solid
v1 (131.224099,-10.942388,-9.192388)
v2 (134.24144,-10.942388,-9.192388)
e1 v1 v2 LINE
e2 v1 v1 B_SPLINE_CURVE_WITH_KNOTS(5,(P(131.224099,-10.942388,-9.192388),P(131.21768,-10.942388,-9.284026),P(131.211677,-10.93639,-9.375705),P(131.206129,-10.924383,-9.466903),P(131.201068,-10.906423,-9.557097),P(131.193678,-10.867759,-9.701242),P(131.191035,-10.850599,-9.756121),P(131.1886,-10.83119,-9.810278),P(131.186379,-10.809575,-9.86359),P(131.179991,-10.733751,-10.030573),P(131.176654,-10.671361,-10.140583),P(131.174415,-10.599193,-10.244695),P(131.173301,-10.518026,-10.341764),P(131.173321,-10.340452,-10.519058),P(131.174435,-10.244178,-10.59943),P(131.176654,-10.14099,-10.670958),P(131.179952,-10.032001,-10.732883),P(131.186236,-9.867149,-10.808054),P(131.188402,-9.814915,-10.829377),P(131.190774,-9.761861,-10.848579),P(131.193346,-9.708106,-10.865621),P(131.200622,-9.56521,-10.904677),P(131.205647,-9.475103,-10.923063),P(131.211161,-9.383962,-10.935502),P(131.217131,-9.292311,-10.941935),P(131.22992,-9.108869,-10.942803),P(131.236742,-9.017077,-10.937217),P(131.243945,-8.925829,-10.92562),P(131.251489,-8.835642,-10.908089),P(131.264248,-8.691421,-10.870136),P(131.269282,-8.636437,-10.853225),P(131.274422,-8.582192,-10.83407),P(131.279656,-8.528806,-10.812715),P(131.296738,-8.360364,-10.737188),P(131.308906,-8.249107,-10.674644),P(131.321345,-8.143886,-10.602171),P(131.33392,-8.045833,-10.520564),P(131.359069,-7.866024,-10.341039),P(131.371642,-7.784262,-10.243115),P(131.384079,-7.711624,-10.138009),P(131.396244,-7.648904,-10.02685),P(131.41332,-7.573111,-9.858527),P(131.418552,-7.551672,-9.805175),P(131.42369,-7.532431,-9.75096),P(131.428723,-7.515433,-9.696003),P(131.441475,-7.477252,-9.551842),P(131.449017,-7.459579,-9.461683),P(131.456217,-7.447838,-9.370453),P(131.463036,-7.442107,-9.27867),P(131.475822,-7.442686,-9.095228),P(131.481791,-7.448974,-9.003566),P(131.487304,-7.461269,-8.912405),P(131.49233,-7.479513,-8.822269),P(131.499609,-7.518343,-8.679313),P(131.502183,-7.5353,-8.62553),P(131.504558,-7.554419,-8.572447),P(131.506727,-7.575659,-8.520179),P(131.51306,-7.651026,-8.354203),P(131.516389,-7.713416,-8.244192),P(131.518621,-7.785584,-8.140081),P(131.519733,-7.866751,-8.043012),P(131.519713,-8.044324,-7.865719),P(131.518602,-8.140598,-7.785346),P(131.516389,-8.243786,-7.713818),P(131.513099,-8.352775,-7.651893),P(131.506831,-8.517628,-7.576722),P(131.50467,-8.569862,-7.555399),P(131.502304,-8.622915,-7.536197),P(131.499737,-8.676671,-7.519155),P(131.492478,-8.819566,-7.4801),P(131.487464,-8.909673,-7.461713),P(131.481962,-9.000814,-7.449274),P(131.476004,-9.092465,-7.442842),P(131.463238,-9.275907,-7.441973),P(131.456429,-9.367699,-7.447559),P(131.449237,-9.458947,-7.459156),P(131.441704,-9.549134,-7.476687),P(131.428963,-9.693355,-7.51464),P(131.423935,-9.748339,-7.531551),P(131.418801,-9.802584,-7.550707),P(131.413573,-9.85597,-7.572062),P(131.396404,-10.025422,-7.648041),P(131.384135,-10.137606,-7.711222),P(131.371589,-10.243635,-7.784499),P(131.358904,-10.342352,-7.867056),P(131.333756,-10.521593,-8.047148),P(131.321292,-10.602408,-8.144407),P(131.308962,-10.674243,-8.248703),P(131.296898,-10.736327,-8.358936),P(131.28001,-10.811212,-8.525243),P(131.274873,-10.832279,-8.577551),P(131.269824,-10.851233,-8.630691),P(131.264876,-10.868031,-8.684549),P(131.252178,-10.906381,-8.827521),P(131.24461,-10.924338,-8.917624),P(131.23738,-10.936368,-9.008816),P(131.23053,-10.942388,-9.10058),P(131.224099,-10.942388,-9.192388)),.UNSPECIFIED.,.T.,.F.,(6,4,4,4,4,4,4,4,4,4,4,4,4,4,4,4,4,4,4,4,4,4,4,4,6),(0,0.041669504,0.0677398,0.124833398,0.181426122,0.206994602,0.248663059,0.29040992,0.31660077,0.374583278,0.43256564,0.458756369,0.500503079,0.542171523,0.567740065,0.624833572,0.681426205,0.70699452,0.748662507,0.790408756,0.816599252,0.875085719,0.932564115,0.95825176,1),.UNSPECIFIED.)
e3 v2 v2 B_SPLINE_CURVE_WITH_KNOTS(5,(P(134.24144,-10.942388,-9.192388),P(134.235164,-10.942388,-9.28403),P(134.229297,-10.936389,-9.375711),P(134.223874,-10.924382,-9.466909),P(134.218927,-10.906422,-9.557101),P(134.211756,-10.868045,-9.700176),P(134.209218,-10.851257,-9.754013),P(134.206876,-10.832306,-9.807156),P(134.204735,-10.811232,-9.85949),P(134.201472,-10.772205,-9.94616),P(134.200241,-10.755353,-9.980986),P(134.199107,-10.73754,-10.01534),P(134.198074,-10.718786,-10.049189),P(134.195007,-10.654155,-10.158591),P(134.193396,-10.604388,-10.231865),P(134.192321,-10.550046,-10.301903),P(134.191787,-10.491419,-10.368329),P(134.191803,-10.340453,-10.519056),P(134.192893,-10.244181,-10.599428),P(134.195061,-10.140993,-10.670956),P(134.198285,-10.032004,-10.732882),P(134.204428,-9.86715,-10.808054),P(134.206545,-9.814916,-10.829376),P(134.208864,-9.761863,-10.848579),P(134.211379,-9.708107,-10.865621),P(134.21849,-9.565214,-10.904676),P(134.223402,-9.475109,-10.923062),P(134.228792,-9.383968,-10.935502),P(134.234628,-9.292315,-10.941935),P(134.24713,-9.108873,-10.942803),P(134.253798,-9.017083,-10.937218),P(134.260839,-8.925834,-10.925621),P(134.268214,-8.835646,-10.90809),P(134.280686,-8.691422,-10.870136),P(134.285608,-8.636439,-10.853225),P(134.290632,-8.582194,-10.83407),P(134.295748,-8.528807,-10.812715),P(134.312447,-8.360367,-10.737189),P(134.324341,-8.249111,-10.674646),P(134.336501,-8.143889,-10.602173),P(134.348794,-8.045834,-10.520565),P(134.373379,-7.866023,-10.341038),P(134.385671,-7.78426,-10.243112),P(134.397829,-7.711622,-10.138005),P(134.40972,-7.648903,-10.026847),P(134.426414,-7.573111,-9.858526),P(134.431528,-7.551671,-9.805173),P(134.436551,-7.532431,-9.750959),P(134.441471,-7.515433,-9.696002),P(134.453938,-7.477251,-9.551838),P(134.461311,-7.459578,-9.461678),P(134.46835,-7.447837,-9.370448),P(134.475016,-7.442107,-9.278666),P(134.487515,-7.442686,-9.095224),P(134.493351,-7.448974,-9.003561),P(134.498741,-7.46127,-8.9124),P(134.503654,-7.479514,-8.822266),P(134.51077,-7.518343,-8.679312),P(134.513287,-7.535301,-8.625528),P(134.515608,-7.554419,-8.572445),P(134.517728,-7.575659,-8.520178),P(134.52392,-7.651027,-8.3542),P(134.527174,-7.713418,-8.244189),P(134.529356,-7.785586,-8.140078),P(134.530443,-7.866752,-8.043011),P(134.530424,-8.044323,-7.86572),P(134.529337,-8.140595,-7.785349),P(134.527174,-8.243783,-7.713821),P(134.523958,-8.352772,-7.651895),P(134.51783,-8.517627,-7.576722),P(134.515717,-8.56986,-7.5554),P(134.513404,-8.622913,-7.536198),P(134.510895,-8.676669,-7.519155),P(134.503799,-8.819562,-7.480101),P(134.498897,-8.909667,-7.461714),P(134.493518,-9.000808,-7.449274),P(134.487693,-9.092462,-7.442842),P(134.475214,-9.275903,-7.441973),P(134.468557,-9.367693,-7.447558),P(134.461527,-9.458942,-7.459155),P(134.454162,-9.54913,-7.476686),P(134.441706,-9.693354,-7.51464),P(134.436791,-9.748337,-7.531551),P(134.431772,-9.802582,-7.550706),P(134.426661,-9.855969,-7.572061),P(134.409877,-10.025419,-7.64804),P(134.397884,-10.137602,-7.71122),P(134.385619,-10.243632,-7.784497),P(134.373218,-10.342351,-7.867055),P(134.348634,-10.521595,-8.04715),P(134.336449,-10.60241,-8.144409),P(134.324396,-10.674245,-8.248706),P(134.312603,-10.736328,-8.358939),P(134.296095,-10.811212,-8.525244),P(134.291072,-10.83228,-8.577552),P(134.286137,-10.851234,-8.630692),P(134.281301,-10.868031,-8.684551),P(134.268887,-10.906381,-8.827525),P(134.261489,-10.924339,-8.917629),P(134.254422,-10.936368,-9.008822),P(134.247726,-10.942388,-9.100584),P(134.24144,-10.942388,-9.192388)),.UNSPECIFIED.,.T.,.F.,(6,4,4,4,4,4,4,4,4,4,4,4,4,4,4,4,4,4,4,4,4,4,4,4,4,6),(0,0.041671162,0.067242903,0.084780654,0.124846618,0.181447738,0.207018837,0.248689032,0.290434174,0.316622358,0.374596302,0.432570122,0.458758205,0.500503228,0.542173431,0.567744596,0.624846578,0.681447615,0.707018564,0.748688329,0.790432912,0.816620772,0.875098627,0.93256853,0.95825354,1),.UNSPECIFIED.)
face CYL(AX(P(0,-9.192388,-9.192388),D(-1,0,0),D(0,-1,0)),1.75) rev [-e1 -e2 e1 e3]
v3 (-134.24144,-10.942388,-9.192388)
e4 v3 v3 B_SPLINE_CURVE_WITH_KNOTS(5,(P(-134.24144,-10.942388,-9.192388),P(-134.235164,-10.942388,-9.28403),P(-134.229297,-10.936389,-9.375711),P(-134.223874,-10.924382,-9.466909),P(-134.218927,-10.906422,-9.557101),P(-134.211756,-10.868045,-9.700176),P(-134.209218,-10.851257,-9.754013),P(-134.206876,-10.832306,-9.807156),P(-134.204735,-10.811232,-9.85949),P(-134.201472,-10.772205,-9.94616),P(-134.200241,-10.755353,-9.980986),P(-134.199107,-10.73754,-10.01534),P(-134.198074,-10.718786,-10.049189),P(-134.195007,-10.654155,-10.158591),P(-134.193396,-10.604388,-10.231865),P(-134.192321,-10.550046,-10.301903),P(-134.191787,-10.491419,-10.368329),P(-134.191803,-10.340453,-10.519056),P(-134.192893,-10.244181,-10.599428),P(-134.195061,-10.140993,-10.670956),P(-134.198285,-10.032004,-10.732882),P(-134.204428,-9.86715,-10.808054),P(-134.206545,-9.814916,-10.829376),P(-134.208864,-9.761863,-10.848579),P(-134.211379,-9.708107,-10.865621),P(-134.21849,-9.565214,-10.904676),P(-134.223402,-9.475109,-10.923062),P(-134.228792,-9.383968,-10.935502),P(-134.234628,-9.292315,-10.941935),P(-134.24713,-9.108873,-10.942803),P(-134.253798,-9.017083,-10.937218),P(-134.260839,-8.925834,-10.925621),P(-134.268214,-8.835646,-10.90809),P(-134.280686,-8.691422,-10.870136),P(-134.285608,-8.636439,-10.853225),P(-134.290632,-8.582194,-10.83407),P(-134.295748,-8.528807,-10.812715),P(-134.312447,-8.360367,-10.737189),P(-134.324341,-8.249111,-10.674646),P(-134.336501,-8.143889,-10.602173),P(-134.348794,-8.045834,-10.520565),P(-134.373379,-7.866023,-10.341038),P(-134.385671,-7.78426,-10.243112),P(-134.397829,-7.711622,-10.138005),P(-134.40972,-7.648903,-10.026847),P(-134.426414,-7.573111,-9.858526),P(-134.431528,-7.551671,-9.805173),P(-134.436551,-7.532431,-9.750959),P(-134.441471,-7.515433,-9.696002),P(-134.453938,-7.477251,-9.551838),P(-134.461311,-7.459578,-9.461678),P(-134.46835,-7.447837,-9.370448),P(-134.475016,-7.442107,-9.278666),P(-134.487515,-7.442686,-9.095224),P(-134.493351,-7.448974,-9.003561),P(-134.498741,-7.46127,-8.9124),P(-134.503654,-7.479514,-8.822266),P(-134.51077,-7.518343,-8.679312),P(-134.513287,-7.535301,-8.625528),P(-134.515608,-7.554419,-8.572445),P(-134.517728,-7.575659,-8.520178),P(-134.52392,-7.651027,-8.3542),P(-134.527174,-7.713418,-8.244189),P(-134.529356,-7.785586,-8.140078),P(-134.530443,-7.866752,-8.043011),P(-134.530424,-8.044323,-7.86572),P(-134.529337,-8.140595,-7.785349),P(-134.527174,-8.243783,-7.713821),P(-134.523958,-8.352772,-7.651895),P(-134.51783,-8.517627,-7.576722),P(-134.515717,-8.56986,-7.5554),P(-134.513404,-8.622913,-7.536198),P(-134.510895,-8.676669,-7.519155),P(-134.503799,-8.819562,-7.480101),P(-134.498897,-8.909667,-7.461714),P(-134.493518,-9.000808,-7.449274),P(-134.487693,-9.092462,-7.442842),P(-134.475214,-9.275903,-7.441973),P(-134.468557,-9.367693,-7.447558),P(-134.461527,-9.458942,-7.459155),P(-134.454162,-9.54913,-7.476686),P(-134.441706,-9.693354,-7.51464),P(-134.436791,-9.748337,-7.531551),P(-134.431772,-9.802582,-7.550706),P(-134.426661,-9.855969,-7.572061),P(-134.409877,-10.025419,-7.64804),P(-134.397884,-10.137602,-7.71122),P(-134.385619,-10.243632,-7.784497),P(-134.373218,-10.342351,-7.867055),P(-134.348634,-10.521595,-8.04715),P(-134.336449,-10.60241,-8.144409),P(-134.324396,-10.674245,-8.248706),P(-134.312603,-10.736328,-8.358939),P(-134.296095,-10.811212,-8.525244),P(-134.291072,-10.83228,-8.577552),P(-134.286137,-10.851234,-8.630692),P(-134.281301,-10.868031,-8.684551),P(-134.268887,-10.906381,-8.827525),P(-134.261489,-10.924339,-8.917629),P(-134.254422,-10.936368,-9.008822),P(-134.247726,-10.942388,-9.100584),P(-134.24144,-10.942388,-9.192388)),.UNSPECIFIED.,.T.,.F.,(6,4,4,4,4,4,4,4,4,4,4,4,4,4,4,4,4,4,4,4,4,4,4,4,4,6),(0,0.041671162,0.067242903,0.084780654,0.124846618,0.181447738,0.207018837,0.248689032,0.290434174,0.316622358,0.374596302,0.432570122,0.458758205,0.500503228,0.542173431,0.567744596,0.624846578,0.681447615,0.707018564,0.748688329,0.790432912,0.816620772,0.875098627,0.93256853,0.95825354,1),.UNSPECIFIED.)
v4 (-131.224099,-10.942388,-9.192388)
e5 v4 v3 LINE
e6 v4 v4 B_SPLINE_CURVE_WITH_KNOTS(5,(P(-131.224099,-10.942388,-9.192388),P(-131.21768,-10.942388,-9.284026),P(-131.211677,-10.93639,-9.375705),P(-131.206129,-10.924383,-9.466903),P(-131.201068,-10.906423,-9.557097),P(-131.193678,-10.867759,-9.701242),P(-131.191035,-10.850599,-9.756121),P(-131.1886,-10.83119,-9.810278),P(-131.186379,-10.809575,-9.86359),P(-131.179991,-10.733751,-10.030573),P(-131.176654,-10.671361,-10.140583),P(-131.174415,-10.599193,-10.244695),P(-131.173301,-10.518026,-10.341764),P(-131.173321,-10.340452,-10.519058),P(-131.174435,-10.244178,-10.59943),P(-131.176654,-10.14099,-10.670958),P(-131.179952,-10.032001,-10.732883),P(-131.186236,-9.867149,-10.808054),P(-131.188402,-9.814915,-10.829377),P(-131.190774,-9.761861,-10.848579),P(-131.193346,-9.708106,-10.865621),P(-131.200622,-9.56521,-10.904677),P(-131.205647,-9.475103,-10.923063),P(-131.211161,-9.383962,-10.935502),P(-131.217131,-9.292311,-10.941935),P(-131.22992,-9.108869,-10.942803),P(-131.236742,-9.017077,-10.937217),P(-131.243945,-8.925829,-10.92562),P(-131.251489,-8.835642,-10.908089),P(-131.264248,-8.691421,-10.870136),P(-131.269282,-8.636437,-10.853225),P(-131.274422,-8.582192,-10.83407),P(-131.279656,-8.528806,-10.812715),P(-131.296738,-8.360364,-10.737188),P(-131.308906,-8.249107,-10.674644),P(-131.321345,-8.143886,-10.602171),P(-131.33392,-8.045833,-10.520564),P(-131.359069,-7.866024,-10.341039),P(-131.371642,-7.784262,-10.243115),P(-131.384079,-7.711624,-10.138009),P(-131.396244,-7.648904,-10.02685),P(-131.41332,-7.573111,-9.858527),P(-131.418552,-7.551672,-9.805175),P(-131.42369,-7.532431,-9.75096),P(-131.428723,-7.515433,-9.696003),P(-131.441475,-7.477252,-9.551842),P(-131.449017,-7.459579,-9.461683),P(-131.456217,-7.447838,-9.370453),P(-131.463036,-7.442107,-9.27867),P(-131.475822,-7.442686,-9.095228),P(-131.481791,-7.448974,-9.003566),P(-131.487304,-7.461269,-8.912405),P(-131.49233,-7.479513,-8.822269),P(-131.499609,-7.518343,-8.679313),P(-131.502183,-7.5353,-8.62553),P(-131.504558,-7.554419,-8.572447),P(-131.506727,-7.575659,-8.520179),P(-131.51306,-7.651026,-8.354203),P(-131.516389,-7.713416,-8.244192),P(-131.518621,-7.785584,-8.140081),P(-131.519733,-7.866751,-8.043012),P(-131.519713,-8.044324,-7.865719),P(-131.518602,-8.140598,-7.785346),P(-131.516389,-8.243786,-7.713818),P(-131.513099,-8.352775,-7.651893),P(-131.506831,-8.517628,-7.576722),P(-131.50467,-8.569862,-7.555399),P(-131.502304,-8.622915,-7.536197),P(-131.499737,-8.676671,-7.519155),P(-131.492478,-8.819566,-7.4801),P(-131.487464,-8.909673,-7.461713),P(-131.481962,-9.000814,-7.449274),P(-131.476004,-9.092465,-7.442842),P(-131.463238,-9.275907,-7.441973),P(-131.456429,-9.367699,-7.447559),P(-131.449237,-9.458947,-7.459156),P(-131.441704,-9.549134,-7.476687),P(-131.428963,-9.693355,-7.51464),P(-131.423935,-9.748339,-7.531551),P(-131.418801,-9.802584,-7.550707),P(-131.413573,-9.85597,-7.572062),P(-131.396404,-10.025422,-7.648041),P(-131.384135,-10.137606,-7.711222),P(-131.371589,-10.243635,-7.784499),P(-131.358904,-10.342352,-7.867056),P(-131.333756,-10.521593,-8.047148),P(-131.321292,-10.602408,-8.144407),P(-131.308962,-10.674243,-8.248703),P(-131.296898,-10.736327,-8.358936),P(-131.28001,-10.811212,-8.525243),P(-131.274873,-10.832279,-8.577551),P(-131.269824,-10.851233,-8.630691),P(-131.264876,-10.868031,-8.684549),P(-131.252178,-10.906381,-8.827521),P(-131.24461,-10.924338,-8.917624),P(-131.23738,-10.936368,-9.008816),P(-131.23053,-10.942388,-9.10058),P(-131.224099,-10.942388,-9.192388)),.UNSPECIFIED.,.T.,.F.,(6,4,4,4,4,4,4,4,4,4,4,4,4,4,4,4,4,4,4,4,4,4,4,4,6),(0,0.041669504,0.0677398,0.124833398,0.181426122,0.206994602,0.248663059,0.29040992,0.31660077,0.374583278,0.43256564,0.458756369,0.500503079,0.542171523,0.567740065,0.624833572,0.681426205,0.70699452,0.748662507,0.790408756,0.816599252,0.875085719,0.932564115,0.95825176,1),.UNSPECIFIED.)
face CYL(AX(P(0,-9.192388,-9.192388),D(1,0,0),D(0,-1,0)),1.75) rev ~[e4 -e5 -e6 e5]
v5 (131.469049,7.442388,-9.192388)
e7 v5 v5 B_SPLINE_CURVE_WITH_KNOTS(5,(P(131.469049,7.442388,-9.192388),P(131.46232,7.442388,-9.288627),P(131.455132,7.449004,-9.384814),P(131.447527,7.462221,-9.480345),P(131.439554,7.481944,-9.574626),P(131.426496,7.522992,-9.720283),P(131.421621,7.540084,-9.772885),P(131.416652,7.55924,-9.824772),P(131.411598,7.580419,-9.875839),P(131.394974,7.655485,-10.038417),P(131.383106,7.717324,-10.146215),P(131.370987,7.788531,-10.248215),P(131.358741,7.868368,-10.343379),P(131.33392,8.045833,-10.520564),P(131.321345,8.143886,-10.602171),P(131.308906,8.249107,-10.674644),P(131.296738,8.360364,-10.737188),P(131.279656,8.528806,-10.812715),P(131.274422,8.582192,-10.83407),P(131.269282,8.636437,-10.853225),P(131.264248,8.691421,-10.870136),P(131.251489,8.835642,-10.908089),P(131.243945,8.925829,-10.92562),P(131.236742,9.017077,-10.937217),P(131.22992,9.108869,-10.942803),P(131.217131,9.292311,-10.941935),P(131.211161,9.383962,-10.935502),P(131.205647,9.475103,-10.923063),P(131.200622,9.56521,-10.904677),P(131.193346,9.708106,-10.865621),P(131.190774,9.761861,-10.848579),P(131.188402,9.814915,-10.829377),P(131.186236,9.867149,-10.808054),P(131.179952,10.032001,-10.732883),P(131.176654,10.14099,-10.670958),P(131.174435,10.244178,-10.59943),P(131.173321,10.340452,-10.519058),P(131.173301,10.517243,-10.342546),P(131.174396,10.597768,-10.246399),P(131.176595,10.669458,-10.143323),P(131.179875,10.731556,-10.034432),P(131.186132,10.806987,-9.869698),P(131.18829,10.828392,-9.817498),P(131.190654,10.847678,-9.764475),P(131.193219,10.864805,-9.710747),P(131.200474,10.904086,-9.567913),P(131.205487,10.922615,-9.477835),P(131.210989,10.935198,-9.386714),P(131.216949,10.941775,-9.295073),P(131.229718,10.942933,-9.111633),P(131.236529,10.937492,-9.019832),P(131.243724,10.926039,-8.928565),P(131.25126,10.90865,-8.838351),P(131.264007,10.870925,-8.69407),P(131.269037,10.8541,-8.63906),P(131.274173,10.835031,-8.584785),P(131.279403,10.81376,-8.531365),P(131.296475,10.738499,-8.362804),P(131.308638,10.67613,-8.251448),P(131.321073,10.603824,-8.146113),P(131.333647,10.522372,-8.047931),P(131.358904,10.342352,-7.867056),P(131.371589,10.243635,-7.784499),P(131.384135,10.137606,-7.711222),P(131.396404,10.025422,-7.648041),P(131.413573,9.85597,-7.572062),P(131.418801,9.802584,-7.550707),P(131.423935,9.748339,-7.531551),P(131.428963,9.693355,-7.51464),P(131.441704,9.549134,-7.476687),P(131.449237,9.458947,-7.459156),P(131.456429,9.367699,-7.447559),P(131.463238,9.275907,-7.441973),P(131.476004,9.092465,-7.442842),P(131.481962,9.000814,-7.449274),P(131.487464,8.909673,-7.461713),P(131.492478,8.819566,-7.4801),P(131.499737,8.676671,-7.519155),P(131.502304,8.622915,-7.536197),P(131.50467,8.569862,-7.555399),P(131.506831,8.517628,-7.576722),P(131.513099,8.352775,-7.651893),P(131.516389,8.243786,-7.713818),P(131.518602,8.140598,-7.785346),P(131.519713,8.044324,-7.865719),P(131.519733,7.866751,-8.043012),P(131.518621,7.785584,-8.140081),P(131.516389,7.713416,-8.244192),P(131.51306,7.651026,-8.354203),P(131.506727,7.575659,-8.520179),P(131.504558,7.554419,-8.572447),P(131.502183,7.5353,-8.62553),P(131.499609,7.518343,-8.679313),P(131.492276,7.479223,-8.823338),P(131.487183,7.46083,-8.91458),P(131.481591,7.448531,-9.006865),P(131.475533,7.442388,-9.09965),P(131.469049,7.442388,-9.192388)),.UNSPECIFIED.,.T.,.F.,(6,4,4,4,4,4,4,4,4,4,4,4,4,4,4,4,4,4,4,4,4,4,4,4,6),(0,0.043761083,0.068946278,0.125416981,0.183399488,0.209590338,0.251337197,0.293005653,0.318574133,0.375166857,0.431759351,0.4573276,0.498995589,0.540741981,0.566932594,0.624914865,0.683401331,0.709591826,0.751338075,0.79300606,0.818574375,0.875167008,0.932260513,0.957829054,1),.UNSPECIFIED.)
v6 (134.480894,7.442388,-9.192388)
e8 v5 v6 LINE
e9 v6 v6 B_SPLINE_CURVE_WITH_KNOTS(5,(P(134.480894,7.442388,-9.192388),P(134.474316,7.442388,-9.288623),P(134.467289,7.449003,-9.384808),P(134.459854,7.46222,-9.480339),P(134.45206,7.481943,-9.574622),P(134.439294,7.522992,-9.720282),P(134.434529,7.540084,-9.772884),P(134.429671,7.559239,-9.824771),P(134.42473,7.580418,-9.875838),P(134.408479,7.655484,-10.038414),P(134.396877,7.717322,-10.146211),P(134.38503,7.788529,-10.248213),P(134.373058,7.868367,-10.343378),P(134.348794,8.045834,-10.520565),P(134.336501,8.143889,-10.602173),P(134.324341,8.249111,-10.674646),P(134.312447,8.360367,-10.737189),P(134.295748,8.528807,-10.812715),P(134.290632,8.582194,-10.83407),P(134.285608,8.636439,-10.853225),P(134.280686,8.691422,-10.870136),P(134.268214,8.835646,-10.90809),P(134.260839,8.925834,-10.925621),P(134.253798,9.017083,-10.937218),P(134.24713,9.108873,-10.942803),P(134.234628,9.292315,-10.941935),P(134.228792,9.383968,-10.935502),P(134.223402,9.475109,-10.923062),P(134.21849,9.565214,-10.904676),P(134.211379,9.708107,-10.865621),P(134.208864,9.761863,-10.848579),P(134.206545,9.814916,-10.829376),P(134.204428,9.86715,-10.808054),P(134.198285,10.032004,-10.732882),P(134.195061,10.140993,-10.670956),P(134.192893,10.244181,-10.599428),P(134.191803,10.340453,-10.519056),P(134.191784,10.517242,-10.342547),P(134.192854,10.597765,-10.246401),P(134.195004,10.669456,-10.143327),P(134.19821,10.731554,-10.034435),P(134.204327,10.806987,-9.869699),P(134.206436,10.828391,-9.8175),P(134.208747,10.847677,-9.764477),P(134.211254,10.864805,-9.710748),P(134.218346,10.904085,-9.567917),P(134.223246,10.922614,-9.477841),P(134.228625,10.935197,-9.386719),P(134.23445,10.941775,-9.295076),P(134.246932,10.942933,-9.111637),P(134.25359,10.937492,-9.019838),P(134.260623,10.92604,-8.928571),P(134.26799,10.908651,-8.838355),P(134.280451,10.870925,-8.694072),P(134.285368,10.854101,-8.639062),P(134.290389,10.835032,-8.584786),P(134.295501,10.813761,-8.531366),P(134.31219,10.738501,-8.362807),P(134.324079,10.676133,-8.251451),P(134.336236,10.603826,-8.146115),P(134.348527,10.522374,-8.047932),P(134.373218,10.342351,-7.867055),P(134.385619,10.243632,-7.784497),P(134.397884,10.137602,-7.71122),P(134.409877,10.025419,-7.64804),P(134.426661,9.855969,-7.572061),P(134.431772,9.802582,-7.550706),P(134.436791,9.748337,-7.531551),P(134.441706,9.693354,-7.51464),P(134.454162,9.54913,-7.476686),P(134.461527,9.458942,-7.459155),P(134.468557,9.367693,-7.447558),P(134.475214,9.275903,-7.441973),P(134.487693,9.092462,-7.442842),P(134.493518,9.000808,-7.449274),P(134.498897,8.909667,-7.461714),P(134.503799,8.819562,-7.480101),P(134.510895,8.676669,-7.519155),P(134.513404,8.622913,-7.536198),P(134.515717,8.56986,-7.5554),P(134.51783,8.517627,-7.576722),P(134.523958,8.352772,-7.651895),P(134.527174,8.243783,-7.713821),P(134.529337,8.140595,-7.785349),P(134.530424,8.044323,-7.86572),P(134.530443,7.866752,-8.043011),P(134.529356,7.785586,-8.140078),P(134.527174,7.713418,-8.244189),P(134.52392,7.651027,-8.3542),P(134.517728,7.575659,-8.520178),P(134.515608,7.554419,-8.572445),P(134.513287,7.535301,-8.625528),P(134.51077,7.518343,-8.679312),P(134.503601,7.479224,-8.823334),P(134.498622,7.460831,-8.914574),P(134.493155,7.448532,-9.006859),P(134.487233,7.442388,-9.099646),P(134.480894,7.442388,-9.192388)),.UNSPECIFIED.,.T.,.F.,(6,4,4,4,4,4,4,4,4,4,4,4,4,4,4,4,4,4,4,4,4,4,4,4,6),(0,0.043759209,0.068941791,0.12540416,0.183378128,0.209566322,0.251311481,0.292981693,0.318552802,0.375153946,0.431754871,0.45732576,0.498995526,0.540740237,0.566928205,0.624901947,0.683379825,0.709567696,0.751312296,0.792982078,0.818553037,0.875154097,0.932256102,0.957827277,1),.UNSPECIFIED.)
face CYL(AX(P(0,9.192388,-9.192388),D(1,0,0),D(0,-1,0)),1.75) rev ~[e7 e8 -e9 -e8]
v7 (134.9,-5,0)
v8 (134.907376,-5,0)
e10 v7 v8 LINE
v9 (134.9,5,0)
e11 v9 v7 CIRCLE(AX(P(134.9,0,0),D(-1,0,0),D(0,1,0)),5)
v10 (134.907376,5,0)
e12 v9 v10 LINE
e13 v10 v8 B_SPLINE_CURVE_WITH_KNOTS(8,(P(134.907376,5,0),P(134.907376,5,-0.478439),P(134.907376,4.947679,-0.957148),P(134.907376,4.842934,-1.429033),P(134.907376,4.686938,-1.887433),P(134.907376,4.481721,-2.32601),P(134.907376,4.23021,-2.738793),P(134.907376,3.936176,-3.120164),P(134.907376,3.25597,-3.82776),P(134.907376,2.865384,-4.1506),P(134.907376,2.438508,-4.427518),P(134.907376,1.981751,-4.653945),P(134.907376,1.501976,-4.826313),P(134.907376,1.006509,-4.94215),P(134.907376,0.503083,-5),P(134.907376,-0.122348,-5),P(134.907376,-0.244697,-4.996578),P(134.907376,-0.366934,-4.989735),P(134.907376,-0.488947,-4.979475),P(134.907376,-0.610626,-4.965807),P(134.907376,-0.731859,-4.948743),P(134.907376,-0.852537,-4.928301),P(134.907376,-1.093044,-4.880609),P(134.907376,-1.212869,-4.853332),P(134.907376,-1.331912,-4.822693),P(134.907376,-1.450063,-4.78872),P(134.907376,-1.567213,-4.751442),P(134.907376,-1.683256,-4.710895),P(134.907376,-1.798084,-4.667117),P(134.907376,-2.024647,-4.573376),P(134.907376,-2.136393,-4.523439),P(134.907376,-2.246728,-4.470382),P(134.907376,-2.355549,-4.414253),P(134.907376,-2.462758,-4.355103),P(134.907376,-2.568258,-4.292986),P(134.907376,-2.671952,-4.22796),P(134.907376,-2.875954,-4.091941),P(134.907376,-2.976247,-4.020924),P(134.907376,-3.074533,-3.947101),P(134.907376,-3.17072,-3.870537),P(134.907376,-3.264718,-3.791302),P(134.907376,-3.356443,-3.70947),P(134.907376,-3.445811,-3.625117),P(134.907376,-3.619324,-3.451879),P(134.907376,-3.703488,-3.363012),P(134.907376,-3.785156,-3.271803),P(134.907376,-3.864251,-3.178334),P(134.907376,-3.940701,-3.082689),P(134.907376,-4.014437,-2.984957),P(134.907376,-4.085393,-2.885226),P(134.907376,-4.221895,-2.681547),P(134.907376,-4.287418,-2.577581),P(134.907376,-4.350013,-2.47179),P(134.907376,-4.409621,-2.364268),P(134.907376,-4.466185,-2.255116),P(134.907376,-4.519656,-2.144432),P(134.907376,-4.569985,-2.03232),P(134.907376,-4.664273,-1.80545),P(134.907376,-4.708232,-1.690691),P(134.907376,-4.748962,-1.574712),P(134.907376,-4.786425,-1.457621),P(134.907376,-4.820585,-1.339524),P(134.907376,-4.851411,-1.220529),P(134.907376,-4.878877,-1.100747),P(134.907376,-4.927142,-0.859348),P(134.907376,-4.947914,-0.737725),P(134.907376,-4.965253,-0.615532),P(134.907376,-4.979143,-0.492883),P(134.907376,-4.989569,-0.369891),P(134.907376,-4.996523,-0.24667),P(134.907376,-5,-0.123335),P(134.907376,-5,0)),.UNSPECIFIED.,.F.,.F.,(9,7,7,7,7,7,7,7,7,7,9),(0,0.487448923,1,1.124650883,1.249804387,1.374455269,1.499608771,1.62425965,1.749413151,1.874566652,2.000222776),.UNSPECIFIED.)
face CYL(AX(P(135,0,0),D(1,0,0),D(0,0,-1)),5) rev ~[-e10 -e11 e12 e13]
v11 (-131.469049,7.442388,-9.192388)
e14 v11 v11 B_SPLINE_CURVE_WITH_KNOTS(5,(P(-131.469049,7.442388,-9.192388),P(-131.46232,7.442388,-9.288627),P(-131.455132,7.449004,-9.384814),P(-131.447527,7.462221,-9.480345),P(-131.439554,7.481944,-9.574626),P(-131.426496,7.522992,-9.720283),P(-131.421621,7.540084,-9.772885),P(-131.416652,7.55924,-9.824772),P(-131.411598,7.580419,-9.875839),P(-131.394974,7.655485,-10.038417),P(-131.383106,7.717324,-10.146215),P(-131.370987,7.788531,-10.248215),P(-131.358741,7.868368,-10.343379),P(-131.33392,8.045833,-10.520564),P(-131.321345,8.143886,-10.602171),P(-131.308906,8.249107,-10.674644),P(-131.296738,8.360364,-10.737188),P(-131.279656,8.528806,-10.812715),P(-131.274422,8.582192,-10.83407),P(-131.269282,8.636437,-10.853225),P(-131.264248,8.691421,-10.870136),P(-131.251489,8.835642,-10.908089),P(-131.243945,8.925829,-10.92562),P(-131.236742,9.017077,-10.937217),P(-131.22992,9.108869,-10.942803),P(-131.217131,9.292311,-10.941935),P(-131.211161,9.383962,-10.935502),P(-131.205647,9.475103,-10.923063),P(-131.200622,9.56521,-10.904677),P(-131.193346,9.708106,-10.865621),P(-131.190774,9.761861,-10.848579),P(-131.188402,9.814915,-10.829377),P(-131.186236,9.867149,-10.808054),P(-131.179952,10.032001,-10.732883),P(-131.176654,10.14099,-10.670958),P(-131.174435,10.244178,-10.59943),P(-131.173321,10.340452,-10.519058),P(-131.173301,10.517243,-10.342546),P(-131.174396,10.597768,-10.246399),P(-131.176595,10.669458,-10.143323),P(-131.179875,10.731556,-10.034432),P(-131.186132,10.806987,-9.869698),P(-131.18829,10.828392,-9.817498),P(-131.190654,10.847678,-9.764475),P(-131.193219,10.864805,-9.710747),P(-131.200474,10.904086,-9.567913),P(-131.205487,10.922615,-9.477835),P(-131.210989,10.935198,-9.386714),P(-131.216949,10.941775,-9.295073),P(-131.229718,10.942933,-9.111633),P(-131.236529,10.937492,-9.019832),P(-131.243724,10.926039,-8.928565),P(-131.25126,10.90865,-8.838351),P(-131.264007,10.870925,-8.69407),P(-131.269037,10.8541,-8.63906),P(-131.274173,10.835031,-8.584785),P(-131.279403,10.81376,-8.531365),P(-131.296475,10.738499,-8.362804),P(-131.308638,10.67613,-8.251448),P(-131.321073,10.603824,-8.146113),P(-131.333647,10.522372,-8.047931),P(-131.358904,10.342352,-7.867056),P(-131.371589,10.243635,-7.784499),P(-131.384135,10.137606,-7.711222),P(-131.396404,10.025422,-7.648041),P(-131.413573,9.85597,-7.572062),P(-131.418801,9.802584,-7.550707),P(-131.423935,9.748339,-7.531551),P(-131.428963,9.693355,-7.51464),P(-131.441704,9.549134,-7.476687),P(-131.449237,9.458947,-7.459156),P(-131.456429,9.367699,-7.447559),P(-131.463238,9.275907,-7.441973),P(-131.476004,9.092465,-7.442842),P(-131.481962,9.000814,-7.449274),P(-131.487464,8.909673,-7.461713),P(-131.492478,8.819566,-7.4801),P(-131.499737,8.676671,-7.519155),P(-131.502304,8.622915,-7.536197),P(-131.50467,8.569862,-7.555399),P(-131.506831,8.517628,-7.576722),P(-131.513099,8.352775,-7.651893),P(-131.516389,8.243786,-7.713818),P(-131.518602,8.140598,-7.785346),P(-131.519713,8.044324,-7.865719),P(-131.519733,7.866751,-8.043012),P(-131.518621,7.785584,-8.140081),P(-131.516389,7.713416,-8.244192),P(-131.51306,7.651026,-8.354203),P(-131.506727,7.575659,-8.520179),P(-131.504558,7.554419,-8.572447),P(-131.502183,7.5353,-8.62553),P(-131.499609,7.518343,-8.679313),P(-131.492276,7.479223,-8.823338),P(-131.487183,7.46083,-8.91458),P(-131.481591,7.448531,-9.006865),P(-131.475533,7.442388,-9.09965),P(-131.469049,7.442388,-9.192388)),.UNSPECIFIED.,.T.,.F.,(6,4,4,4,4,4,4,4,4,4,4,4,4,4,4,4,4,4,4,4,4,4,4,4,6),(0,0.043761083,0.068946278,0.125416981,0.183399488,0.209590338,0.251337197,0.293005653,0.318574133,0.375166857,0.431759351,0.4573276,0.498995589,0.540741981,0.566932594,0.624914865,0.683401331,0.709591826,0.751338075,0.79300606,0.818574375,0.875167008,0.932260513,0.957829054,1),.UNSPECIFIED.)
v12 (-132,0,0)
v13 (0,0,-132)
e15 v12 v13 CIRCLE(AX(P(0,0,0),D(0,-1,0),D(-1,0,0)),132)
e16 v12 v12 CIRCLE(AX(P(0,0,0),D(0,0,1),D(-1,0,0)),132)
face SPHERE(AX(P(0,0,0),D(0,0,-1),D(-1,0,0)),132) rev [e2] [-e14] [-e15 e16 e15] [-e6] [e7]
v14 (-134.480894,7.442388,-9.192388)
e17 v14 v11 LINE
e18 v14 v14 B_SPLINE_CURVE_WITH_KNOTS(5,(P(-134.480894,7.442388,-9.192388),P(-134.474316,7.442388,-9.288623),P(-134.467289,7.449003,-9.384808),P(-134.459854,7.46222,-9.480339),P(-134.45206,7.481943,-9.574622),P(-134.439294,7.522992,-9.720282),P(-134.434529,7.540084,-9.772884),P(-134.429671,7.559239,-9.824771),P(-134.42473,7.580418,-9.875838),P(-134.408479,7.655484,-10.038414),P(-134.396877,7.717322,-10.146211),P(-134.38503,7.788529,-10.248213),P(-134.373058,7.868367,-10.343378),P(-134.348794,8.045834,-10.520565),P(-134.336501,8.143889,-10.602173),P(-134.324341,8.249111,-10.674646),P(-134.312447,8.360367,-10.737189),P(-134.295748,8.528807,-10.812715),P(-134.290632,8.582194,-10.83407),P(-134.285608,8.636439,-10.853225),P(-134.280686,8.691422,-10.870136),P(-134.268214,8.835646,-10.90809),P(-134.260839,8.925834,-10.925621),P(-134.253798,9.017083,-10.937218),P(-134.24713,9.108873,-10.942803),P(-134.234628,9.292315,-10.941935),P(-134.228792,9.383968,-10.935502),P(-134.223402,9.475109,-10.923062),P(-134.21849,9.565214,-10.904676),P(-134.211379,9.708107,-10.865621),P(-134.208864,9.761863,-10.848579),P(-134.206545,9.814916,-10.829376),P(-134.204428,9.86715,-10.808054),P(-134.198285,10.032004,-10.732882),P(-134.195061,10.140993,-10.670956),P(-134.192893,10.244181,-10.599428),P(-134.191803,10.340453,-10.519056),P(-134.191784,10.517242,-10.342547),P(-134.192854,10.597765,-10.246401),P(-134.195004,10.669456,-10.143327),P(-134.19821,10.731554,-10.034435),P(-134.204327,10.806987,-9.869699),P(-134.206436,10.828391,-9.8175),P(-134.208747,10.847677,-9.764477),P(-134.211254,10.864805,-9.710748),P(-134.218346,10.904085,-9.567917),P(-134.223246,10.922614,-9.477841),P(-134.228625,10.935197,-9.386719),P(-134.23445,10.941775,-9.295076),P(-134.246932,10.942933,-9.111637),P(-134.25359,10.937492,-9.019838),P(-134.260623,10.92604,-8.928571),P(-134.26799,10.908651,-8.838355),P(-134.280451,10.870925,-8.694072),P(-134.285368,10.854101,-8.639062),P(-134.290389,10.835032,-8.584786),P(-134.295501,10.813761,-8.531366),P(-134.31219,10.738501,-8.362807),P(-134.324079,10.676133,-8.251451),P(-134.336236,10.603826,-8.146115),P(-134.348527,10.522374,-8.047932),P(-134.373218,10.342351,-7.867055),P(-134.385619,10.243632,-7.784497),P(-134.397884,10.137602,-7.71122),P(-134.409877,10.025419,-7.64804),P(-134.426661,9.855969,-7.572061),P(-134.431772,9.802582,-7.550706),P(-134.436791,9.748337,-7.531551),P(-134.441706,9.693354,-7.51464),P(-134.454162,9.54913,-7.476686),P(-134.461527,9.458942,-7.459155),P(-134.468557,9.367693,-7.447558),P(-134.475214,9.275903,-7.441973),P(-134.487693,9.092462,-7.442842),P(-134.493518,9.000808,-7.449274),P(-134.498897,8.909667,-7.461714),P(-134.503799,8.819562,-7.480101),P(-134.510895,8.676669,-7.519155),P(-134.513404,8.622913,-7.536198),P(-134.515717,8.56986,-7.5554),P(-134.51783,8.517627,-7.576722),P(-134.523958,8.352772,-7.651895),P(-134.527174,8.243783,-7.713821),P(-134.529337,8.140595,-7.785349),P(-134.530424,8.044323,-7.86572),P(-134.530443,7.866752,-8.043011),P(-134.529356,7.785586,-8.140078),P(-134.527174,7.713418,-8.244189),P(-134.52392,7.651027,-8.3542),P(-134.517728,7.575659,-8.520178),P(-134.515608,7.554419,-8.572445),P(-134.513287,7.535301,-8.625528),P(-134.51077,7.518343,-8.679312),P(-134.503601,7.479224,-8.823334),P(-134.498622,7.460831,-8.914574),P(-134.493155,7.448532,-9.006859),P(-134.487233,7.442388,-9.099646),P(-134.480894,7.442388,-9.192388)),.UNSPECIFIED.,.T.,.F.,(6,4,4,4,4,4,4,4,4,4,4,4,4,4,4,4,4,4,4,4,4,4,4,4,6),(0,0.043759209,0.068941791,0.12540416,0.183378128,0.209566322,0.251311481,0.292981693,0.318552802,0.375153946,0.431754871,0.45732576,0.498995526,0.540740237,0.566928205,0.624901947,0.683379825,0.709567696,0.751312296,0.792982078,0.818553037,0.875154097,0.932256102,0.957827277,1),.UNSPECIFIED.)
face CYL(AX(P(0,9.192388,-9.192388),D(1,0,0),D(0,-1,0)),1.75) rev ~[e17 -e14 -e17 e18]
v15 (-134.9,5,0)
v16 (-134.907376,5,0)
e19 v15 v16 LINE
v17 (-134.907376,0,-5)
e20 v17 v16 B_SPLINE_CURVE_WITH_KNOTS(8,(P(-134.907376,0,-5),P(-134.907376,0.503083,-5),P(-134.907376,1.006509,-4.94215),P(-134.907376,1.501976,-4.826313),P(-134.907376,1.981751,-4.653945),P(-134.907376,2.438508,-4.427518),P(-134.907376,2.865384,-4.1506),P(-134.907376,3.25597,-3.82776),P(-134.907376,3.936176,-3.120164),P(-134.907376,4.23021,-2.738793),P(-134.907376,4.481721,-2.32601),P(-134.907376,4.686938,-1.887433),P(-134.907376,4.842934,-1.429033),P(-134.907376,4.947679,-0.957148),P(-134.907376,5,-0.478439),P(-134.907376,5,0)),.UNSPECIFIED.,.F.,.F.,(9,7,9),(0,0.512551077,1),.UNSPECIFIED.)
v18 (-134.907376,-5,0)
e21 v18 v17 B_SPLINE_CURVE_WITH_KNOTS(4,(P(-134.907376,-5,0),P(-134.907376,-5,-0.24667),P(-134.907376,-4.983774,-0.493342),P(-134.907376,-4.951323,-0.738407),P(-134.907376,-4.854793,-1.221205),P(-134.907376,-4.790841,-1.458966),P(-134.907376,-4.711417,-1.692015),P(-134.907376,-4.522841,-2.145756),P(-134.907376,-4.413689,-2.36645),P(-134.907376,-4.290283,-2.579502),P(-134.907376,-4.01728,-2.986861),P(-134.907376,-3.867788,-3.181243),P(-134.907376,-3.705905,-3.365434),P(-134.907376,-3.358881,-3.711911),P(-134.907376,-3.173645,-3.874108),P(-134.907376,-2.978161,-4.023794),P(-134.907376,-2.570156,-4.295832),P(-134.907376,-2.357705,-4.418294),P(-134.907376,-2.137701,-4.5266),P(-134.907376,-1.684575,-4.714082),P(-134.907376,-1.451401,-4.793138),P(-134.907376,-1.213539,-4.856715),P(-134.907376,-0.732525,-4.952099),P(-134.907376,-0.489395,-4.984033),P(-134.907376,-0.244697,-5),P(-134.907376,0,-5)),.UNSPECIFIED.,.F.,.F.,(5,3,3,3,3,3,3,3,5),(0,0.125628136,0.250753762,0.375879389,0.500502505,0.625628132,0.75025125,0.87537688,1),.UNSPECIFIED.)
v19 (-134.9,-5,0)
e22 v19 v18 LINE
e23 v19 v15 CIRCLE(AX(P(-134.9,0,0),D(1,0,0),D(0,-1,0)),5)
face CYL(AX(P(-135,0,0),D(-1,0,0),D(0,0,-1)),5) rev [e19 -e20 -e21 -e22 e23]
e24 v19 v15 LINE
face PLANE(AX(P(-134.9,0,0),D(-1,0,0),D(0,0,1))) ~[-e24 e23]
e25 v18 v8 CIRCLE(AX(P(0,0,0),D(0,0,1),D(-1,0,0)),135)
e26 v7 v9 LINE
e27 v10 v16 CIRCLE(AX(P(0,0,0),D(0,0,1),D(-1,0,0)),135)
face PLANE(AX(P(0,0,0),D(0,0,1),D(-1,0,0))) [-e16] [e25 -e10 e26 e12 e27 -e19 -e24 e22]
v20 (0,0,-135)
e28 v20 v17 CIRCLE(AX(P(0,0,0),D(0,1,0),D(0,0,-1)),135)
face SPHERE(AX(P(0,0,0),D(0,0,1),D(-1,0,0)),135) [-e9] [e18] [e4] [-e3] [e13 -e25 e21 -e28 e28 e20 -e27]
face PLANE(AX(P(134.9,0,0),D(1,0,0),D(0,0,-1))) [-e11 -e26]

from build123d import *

# Parameters (mm, degrees)
SKETCH_3_R          = 1.75
CUT_EXTRUDE_2_DEPTH = 211.5
SKETCH_4_R          = 5
CUT_EXTRUDE_3_DEPTH = 0.1


with BuildPart() as part:
    # Эскиз2 → Повернуть1 (revolve)
    with BuildSketch(Plane(origin=(0, 0, 0), x_dir=(1, 0, 0), z_dir=(0, 1, 0))):
        with BuildLine():
            Line((-135, 0), (-132, 0))
            ThreePointArc((-132, 0), (-93.338095117, 93.338095117), (0, 132))
            Line((0, 132), (0, 135))
            ThreePointArc((0, 135), (-95.45941546, 95.45941546), (-135, 0))
        make_face()
    revolve(axis=Axis((0, 0, -135), (0, 0, 1)))

    # Эскиз3 → Вырез-Вытянуть2 (cut, symmetric)
    with BuildSketch(Plane(origin=(0, 0, 0), x_dir=(0, -1, 0), z_dir=(1, 0, 0))):
        with Locations((9.192388155, 9.192388155)):
            Circle(SKETCH_3_R)
        with Locations((-9.192388155, 9.192388155)):
            Circle(SKETCH_3_R)
    extrude(amount=CUT_EXTRUDE_2_DEPTH, both=True, mode=Mode.SUBTRACT)

    # Эскиз4 → Вырез-Вытянуть3 (cut)
    with BuildSketch(Plane(origin=(135, 0, 0), x_dir=(0, 0, -1), z_dir=(1, 0, 0))):
        Circle(SKETCH_4_R)
    cut_extrude_3 = extrude(amount=-CUT_EXTRUDE_3_DEPTH, mode=Mode.SUBTRACT)

    # Зеркальное отражение1: Вырез-Вытянуть3 across plane
    add(cut_extrude_3.mirror(Plane(origin=(0, 0, 0), x_dir=(0, 0, 1), z_dir=(1, 0, 0))), mode=Mode.SUBTRACT)


solid = part.part
